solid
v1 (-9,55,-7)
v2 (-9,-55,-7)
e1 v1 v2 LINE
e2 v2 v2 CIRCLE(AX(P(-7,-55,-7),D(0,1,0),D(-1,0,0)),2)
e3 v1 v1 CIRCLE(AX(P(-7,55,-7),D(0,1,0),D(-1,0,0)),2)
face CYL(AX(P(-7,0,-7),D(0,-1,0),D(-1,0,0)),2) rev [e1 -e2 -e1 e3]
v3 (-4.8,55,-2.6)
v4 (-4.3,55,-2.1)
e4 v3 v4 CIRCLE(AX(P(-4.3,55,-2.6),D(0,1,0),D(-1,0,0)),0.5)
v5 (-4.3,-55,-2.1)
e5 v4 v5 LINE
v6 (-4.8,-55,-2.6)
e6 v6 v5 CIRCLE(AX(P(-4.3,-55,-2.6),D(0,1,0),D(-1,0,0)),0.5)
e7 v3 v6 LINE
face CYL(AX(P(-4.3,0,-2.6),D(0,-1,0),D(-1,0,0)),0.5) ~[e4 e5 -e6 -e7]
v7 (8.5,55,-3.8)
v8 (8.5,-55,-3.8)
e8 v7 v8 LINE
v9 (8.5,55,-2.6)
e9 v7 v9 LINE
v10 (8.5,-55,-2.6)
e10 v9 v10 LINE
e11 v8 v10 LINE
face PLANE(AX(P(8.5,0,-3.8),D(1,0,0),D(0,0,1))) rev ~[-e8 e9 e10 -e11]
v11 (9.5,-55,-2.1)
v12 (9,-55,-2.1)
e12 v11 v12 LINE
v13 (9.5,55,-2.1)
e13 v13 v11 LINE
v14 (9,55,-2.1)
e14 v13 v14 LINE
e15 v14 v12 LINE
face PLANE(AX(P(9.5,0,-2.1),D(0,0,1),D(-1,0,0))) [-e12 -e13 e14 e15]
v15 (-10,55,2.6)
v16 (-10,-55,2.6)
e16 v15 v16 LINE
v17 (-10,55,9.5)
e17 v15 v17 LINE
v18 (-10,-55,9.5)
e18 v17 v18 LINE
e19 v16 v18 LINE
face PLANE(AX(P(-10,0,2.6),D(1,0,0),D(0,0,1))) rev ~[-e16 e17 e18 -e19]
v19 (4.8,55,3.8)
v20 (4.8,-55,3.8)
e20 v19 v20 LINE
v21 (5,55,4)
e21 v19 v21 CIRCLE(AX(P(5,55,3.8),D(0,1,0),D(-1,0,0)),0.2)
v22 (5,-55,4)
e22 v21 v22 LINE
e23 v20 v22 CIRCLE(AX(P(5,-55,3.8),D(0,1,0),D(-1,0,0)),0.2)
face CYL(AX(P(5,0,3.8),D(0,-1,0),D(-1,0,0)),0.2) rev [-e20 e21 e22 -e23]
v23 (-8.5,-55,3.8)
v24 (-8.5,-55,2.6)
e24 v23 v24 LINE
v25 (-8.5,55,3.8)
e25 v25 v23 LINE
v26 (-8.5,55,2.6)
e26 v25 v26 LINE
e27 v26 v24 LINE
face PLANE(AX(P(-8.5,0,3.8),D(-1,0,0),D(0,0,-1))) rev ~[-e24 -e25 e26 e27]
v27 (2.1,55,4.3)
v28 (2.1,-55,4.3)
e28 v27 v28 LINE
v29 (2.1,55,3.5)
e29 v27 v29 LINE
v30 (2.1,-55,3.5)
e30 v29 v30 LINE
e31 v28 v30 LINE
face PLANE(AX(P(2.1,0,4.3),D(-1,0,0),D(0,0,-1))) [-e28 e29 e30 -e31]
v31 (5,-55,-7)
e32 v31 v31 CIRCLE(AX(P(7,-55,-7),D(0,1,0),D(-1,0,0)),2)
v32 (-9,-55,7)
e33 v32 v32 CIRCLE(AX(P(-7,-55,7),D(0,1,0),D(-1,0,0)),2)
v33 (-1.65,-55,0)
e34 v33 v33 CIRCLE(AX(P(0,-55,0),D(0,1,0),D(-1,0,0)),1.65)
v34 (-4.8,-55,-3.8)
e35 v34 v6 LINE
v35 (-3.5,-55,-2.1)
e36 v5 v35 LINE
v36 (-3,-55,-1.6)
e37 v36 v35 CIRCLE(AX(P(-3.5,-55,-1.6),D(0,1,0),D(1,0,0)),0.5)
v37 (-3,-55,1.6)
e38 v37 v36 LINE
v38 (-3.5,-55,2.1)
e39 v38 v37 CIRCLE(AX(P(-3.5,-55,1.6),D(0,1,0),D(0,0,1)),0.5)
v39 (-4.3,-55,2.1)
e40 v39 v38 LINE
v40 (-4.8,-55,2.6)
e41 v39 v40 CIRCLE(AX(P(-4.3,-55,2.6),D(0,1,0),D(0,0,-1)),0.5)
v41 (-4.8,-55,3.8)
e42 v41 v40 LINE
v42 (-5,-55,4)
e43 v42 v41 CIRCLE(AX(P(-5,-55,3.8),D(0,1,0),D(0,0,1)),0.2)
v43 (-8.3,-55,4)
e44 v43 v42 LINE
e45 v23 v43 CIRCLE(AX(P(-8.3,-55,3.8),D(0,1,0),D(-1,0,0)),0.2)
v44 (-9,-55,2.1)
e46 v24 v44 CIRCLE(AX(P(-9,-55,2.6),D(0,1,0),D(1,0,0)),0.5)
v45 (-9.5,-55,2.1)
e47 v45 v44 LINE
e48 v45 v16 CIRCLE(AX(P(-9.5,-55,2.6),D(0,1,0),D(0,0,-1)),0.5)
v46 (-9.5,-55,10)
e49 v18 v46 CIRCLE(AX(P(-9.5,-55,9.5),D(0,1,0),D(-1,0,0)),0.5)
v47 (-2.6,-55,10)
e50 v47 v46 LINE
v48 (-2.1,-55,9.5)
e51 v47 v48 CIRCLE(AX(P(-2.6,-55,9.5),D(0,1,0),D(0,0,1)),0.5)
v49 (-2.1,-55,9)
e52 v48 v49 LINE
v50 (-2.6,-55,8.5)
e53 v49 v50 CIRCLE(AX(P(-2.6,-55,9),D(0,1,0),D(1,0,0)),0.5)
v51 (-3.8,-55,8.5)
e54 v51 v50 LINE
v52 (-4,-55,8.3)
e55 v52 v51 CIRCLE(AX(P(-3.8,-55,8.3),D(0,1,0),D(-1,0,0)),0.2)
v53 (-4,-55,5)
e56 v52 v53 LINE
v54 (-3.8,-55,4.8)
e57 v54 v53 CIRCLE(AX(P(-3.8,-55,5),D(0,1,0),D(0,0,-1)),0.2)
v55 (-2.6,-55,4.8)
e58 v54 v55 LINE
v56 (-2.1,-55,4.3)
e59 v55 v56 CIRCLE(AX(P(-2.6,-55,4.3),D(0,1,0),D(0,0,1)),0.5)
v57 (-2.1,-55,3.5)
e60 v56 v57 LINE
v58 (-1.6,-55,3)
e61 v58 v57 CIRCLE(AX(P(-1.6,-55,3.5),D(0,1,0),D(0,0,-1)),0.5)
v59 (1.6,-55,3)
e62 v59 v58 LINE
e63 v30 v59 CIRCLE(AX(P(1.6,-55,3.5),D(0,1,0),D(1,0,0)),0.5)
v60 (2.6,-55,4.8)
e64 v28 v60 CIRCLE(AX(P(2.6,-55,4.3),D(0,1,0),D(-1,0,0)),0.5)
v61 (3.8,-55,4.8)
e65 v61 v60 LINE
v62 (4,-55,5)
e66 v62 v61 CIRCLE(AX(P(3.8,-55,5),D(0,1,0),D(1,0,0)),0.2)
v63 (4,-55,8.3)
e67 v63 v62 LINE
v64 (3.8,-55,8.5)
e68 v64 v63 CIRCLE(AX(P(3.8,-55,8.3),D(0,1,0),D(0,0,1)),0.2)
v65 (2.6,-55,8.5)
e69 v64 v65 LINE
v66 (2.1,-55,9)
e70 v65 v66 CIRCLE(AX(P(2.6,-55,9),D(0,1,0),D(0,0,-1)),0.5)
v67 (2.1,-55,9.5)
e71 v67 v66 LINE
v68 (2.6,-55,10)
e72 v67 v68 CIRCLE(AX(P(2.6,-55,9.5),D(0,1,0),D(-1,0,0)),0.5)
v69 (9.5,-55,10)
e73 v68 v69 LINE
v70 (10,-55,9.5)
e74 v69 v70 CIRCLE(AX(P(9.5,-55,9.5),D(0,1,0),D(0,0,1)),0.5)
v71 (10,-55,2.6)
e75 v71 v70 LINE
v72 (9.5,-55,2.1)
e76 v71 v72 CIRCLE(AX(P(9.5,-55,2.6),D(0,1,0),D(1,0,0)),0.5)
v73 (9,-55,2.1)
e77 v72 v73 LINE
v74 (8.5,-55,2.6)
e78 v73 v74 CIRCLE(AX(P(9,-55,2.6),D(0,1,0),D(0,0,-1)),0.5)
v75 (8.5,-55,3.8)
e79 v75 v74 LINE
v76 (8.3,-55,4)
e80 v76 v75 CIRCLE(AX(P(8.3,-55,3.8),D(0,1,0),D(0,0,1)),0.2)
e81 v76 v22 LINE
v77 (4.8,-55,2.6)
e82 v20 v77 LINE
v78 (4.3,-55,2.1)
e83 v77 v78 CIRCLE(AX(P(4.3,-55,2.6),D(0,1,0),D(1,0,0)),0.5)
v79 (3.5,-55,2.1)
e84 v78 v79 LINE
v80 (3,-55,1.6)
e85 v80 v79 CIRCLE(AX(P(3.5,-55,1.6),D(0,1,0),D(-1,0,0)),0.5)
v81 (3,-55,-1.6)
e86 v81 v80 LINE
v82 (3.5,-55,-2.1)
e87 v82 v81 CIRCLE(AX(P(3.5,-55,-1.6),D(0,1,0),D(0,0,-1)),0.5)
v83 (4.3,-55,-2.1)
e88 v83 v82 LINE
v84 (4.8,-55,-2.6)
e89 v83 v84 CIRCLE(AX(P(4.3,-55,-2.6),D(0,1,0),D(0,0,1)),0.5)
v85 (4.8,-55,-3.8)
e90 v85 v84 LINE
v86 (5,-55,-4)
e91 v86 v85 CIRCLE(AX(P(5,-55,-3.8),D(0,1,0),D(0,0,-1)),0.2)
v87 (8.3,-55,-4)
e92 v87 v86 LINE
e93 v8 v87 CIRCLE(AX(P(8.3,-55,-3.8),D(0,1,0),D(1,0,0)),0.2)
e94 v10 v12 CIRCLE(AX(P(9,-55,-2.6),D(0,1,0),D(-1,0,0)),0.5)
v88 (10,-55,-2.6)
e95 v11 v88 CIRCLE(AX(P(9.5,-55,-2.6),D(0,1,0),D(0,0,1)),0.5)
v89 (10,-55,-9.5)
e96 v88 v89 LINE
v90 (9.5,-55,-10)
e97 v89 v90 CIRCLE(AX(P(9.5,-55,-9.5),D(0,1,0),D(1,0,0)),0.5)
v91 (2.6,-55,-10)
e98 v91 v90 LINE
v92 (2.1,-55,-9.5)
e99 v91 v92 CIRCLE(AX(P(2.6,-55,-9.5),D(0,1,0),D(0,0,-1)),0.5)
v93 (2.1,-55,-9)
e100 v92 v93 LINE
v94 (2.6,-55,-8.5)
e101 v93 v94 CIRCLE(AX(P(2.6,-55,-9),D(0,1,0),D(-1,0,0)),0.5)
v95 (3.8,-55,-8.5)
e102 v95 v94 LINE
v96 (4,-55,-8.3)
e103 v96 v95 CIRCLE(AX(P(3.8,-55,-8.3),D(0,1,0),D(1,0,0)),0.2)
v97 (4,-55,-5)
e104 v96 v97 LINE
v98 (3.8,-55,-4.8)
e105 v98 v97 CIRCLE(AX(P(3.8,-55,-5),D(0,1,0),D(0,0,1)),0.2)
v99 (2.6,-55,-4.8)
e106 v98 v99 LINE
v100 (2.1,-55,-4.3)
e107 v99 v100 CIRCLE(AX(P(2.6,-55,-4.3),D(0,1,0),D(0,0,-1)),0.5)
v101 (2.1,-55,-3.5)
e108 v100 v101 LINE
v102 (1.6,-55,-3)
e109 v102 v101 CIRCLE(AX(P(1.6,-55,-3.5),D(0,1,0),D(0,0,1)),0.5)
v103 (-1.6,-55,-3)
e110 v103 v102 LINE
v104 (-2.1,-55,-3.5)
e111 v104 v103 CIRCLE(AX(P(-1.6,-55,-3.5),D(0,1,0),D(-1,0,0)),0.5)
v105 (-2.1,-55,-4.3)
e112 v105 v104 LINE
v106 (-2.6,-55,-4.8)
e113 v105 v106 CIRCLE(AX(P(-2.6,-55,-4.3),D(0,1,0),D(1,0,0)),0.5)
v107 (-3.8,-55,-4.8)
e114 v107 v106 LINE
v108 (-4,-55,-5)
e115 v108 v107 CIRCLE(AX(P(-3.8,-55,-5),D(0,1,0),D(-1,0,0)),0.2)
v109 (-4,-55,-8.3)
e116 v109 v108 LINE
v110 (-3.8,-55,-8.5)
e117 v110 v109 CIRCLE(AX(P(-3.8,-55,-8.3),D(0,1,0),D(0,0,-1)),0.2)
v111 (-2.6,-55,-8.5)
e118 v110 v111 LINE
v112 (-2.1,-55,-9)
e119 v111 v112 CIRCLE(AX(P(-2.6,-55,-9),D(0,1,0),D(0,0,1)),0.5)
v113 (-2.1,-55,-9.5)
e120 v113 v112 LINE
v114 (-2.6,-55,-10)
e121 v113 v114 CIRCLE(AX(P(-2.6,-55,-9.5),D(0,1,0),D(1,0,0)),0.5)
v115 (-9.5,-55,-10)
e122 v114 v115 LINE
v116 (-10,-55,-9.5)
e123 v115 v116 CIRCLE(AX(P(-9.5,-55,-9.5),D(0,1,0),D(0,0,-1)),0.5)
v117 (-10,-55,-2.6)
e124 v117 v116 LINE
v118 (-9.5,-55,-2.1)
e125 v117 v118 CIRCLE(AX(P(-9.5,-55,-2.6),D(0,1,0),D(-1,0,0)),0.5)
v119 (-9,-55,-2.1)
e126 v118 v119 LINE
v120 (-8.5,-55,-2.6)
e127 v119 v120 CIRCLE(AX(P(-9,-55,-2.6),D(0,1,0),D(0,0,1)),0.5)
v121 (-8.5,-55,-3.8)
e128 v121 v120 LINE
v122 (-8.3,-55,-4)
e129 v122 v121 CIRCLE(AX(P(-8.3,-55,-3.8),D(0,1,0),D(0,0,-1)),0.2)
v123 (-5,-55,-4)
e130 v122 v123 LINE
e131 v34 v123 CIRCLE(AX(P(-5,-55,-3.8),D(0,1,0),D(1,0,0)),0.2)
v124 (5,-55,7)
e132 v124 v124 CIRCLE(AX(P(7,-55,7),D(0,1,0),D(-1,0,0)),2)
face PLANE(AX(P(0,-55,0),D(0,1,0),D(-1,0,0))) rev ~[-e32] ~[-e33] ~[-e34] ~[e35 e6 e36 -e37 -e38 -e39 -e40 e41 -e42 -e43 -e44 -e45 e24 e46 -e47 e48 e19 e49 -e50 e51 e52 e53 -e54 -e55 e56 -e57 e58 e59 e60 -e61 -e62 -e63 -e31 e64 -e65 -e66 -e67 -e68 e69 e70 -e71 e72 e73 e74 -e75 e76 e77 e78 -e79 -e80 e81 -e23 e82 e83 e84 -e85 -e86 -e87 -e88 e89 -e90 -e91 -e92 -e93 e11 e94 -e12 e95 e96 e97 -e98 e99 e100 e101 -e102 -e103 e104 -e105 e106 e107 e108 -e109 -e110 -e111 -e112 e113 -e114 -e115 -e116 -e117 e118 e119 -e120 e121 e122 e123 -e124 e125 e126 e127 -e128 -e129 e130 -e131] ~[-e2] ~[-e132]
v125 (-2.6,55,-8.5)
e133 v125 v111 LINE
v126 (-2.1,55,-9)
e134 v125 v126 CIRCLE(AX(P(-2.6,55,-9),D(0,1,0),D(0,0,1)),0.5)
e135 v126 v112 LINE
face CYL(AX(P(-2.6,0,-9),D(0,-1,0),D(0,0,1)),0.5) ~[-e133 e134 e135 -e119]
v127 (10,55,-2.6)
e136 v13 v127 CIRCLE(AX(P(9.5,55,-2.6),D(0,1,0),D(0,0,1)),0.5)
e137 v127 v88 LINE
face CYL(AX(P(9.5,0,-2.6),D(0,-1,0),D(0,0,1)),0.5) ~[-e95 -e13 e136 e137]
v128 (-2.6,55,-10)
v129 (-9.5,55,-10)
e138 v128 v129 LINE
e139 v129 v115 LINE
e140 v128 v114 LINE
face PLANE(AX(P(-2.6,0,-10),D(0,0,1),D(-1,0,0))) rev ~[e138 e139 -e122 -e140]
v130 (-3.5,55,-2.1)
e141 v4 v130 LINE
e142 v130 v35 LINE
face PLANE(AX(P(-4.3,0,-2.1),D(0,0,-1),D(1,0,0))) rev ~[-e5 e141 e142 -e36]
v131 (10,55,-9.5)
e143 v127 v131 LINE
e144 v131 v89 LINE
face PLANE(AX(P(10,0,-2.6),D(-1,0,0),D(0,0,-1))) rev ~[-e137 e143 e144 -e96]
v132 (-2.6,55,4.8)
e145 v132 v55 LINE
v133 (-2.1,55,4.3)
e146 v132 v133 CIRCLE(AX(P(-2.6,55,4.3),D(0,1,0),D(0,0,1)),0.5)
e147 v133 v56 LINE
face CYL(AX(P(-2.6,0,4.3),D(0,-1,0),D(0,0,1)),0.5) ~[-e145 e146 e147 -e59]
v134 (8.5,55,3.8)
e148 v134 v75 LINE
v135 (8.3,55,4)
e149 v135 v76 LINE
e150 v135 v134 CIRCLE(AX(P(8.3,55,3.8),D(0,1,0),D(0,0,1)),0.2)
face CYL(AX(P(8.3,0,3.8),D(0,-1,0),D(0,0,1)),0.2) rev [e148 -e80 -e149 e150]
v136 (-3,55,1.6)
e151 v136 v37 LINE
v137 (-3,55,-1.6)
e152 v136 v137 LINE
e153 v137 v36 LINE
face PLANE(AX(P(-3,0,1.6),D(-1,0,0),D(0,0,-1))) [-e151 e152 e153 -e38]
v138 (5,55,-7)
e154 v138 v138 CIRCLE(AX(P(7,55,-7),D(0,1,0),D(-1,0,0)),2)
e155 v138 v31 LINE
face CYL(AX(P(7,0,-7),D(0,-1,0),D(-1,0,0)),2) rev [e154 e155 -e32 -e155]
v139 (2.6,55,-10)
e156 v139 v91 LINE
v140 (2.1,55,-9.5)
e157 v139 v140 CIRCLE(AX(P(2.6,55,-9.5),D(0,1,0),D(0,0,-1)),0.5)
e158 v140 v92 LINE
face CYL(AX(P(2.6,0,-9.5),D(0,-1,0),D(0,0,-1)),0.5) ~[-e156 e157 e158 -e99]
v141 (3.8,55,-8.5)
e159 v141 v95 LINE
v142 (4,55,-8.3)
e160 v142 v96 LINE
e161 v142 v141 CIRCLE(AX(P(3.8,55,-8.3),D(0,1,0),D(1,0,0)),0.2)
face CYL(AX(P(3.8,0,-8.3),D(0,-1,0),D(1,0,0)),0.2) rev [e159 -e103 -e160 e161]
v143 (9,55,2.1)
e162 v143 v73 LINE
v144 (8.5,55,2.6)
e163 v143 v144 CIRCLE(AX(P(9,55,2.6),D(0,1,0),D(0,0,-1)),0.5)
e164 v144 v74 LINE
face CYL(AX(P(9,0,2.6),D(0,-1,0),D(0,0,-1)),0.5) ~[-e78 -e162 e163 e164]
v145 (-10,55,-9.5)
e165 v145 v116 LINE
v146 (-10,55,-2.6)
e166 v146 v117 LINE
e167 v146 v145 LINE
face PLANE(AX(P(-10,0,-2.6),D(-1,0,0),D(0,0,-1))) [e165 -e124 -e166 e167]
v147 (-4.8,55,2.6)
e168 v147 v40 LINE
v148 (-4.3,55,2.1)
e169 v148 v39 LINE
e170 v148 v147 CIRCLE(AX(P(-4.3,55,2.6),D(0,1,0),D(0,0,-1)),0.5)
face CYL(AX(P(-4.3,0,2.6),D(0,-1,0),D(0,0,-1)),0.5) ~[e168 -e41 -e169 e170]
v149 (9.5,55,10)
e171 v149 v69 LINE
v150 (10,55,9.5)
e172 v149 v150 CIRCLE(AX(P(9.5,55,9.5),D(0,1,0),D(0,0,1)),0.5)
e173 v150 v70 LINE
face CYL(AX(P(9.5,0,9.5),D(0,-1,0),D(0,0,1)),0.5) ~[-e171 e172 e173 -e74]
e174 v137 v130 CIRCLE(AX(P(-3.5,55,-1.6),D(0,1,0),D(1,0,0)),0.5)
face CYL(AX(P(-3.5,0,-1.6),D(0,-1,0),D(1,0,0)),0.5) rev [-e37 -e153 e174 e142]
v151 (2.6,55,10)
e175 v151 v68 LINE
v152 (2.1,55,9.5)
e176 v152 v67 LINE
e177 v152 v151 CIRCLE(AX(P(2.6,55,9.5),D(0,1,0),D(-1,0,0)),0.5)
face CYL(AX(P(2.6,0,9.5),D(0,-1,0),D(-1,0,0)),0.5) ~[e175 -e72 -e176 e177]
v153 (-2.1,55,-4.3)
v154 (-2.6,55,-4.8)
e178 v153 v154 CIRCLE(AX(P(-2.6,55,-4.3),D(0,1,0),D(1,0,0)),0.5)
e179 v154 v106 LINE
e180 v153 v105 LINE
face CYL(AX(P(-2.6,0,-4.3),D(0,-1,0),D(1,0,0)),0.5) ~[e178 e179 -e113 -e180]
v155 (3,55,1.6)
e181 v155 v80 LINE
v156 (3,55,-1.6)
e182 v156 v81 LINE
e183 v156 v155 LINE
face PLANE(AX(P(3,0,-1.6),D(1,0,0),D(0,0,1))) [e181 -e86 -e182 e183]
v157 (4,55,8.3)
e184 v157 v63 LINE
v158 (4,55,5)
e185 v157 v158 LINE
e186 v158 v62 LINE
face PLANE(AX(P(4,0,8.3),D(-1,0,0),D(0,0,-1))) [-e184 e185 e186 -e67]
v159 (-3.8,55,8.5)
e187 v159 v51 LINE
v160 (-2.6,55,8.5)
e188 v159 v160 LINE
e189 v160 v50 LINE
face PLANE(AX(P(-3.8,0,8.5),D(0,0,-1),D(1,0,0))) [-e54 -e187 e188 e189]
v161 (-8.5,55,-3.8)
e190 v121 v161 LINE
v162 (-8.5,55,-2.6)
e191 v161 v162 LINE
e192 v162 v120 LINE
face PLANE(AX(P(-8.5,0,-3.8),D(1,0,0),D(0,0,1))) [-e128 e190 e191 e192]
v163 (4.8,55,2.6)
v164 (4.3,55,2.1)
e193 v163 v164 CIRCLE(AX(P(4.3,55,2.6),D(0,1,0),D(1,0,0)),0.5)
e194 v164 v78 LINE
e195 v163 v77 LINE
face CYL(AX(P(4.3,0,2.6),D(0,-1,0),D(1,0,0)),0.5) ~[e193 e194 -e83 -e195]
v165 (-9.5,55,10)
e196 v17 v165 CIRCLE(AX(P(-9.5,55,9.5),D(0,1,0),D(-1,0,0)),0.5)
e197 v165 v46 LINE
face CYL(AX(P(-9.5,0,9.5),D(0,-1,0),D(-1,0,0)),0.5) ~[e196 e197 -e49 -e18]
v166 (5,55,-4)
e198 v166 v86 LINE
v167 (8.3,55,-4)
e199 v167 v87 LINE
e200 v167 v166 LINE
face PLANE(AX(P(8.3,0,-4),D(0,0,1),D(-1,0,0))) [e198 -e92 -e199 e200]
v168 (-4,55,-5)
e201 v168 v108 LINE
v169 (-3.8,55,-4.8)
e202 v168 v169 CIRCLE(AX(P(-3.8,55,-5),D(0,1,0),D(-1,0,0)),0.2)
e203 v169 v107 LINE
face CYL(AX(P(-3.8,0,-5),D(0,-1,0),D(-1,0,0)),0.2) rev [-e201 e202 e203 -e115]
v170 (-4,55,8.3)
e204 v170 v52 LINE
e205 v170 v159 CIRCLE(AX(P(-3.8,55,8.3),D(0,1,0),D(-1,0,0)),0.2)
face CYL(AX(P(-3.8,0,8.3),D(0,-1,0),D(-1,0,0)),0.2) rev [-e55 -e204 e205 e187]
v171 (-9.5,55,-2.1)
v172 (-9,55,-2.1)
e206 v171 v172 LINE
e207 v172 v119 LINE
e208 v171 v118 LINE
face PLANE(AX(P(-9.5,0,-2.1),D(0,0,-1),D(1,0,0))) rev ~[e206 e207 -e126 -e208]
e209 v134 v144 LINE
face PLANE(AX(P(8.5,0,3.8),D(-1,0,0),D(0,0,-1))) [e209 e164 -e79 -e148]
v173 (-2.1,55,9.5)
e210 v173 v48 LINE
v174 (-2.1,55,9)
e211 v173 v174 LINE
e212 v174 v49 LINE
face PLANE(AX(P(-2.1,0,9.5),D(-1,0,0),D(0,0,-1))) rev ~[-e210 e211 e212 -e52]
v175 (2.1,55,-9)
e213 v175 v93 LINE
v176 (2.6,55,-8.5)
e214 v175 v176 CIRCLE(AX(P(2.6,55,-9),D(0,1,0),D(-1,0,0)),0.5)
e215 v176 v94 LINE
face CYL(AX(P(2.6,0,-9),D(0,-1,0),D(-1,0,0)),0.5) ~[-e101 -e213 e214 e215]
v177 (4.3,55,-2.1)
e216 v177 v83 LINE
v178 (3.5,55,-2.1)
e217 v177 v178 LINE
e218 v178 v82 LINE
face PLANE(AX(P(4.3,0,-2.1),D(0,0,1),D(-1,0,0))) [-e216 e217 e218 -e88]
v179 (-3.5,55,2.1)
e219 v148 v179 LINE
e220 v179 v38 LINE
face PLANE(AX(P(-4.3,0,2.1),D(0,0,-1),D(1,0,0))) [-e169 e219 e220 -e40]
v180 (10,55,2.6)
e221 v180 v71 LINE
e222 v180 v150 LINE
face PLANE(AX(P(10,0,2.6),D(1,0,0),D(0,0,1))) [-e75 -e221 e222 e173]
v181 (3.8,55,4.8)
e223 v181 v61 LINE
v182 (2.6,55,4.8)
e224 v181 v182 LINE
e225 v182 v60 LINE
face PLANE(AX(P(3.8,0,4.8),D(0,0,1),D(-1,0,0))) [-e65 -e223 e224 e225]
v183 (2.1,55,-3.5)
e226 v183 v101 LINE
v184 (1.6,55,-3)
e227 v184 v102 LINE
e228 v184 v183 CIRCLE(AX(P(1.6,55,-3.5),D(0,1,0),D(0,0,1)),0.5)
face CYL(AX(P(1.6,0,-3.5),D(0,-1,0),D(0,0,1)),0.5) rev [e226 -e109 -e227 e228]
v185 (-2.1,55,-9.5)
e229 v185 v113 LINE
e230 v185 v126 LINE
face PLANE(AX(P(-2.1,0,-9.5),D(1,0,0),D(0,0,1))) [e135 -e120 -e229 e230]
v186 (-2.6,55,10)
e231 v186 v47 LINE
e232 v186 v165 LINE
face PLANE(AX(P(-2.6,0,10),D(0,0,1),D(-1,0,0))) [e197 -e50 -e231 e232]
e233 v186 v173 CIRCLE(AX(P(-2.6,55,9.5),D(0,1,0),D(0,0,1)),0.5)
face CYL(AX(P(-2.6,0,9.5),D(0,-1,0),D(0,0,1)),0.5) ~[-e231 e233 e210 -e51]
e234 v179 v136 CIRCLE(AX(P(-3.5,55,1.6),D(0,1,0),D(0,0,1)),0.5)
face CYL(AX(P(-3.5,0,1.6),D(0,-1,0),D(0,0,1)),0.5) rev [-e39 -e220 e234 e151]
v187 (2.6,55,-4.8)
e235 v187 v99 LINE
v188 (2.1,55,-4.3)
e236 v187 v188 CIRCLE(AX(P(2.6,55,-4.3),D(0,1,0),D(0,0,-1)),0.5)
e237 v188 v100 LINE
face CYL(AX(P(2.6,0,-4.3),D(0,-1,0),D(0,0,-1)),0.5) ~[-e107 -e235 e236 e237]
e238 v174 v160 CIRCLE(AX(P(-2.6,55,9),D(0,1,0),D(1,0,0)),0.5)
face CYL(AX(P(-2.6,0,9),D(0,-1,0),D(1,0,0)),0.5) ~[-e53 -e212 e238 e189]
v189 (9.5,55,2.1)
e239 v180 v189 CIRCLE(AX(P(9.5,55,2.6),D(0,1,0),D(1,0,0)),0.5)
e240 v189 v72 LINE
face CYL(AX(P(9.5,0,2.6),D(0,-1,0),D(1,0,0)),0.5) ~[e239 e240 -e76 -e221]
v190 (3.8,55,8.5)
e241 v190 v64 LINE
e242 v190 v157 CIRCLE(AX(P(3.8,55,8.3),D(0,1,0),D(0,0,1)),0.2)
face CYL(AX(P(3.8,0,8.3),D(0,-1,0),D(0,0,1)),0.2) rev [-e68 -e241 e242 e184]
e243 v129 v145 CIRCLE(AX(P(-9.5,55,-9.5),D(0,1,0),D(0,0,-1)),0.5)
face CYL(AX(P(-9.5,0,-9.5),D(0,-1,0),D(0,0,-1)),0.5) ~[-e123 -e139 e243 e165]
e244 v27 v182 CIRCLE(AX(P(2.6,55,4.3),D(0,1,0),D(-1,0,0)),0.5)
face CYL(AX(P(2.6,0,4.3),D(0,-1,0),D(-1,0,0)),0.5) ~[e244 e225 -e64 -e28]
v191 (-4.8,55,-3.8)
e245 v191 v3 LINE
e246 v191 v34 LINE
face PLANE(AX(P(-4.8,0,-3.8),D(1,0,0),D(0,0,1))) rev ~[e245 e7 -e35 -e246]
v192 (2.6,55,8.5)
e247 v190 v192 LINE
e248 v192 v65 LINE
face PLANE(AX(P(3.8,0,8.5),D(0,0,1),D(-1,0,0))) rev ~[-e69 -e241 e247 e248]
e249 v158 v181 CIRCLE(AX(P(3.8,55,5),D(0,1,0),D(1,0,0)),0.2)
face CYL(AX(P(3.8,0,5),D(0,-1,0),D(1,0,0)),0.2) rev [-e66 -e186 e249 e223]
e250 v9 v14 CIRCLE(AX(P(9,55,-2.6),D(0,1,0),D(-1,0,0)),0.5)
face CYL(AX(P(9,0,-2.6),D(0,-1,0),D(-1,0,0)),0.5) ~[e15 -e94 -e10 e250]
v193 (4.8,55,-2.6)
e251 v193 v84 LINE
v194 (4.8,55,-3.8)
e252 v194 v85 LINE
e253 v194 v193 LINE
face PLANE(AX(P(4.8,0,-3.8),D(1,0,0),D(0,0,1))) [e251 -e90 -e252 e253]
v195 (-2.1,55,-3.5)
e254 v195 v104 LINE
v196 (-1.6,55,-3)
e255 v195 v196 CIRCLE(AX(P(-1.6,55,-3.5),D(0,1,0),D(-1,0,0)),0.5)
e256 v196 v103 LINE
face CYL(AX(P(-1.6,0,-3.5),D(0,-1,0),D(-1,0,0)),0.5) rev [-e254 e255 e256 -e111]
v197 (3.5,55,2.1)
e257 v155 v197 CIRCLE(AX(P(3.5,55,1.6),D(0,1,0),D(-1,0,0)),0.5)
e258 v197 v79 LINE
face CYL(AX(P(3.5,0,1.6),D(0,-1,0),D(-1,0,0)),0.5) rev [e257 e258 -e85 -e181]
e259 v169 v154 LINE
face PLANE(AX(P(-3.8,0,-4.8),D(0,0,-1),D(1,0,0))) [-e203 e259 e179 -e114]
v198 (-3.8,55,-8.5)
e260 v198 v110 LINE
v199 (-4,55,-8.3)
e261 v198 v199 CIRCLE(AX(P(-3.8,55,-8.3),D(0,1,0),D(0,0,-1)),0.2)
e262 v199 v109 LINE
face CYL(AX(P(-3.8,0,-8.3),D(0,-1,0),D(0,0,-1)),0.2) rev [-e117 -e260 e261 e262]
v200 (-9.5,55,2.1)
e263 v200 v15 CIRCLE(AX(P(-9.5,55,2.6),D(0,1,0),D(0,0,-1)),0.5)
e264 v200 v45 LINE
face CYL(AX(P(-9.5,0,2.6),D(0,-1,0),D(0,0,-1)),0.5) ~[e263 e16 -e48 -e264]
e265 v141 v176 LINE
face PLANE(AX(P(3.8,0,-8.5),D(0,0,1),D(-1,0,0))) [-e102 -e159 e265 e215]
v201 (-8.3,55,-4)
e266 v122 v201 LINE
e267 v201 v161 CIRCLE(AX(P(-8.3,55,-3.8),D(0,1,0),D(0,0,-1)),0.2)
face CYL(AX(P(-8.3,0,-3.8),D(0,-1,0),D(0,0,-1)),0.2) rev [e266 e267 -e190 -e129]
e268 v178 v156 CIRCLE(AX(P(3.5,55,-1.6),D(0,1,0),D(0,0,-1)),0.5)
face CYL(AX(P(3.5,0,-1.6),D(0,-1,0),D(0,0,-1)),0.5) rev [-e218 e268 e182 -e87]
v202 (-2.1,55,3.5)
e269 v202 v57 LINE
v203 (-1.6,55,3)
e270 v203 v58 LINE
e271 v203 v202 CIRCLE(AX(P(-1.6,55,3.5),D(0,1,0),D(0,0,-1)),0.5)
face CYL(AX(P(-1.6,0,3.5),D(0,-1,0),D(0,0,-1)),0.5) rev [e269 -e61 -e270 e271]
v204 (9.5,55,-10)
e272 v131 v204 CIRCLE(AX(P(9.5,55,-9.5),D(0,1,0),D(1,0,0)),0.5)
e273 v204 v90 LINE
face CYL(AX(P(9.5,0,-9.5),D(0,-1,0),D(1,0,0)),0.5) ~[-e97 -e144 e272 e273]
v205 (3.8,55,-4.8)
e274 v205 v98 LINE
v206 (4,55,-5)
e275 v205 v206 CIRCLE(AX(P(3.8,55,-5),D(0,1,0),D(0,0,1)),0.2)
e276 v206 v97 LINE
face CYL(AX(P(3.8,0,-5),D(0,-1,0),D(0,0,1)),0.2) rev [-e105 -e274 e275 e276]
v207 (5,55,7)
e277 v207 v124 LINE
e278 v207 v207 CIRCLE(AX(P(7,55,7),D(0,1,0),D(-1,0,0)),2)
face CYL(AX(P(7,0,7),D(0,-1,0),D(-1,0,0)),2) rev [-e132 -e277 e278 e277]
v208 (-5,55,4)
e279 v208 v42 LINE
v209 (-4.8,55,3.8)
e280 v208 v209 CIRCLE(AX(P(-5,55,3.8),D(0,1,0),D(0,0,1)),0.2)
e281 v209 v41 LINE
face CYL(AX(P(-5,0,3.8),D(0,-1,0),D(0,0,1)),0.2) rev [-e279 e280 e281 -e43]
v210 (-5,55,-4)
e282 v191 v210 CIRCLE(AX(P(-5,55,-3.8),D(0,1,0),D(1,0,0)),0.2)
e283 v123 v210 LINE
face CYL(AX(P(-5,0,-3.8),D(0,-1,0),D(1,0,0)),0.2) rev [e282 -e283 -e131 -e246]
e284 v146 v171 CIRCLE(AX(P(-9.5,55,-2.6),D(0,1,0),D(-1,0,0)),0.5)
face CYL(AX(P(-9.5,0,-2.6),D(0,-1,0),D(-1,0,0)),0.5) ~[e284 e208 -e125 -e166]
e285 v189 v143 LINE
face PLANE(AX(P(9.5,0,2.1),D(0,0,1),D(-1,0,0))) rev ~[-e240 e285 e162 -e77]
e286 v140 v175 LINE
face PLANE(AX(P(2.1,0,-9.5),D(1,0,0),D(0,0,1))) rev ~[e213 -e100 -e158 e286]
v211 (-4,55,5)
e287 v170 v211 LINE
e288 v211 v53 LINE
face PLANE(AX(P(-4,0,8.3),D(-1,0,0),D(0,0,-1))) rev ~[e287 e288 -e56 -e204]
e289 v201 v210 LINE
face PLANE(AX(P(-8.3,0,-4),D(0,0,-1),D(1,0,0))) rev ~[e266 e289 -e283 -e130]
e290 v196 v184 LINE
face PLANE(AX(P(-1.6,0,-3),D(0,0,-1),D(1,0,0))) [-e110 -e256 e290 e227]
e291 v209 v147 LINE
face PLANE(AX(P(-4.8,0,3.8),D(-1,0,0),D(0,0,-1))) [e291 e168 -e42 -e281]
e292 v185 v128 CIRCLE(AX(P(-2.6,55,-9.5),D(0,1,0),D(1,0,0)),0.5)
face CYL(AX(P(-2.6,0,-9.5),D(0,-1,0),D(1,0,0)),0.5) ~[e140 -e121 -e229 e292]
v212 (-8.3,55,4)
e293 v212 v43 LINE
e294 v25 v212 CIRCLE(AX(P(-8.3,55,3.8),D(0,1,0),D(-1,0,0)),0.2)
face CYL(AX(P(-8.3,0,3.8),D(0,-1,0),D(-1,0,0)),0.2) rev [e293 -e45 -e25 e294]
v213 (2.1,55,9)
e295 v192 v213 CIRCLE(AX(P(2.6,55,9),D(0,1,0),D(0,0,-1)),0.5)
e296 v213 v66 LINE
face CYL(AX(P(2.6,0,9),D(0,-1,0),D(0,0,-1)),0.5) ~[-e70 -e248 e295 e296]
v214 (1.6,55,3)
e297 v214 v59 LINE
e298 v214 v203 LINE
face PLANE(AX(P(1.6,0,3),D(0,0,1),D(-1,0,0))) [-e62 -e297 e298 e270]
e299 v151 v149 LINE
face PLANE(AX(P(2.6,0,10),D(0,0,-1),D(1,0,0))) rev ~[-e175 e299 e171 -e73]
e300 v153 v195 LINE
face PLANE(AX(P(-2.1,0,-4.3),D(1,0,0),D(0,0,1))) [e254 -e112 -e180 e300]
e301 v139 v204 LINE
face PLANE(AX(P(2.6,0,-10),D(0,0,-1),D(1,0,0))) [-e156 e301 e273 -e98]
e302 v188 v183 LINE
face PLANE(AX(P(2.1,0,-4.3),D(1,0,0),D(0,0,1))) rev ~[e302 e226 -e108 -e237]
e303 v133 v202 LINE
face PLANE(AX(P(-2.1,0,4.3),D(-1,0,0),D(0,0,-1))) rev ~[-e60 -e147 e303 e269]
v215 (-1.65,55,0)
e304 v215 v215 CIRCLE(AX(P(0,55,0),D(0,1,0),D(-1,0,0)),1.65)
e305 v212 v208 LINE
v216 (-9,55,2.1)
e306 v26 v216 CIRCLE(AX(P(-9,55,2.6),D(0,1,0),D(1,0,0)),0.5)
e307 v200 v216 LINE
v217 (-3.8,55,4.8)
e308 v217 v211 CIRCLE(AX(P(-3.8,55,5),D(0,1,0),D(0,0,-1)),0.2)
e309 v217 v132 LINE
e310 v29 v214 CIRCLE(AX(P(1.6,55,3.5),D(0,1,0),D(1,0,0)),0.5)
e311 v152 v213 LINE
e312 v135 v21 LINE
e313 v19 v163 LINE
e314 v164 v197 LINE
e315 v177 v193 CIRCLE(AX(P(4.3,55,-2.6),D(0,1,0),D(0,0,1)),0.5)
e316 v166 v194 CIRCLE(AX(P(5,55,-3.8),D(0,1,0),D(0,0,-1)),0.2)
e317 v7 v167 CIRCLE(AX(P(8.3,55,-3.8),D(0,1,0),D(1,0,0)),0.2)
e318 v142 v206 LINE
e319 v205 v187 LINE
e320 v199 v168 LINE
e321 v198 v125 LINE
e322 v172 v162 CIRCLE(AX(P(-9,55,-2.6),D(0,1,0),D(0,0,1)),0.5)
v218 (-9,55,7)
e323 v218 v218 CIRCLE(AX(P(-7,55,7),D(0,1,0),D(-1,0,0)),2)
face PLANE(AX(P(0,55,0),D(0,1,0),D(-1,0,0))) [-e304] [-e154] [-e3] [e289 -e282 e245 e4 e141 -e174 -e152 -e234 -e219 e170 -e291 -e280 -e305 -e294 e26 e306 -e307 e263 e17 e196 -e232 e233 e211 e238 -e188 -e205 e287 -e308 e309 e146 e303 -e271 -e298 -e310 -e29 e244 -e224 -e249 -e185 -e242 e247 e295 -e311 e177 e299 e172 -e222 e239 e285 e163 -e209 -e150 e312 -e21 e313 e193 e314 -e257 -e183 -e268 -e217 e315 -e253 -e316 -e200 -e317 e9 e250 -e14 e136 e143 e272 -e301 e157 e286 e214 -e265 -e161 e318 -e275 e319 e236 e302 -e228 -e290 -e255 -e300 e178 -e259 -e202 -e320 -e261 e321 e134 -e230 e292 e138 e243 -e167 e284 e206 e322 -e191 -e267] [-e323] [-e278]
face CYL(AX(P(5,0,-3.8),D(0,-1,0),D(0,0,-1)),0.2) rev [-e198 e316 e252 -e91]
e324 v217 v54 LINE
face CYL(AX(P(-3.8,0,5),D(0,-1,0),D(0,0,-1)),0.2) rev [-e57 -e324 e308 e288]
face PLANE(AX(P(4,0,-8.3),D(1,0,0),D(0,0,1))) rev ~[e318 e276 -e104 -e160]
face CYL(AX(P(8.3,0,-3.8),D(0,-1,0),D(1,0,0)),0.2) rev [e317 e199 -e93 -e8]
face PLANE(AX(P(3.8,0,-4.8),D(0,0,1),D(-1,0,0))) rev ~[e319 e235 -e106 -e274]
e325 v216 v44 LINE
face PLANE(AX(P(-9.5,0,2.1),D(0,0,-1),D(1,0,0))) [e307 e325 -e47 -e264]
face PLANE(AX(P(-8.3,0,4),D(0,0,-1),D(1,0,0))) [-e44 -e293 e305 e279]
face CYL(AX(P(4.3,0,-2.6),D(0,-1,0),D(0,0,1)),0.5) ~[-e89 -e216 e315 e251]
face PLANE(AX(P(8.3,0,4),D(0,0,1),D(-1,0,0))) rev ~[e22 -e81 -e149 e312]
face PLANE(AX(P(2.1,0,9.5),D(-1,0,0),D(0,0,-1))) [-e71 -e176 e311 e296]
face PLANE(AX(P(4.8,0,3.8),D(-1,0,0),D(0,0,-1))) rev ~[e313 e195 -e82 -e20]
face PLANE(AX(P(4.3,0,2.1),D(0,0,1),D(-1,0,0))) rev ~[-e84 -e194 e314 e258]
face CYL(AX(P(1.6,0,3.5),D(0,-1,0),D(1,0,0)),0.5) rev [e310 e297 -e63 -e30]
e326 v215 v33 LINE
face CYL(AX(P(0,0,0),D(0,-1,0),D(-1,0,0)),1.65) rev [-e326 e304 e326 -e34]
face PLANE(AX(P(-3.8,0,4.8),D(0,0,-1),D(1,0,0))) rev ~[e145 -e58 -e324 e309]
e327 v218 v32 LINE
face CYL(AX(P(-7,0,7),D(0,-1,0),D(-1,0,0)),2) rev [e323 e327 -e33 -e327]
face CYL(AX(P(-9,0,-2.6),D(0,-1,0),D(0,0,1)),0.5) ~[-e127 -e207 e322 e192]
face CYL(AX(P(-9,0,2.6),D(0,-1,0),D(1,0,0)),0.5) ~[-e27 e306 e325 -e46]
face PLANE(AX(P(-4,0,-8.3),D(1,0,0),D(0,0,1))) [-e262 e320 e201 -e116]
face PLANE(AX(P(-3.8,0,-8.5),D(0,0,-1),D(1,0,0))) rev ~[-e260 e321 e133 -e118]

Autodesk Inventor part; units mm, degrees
ref_plane "YZ Plane" through (0, 0, 0) normal (1, 0, 0) x (0, 1, 0)
ref_plane "XY Plane" through (0, 0, 0) normal (0, 0, 1) x (1, 0, 0)
sketch "スケッチ" plane through (0, 0, 0) normal (0, 1, 0) x (-1, 0, 0)
  line L0 (8.5, -3.8) -> (8.5, -2.6)
  line L1 (4, -8.3) -> (4, -5)
  circle A0 centre (7, -7) radius 2
  line L2 (10, -2.6) -> (10, -9.5)
  line L3 (2.6, -10) -> (9.5, -10)
  line L4 (2.1, -9.5) -> (2.1, -9)
  line L5 (8.5, -2.1) -> (8.5, -4)
  line L6 (3.8, -4.8) -> (2.6, -4.8)
  line L7 (4.8, -3.8) -> (4.8, -2.6)
  arc A1 (2.1, -4.3) -> (2.6, -4.8) centre (2.6, -4.3) ccw
  arc A2 (2.6, -8.5) -> (2.1, -9) centre (2.6, -9) ccw
  arc A3 (3.8, -8.5) -> (4, -8.3) centre (3.8, -8.3) ccw
  arc A4 (4, -5) -> (3.8, -4.8) centre (3.8, -5) ccw
  arc A5 (2.1, -3.5) -> (1.6, -3) centre (1.6, -3.5) ccw
  arc A6 (2.1, -9.5) -> (2.6, -10) centre (2.6, -9.5) ccw
  arc A7 (9.5, -10) -> (10, -9.5) centre (9.5, -9.5) ccw
  arc A8 (10, -2.6) -> (9.5, -2.1) centre (9.5, -2.6) ccw
  arc A9 (9, -2.1) -> (8.5, -2.6) centre (9, -2.6) ccw
  arc A10 (8.3, -4) -> (8.5, -3.8) centre (8.3, -3.8) ccw
  arc A11 (4.8, -3.8) -> (5, -4) centre (5, -3.8) ccw
  line L8 (4.3, -2.1) -> (3.5, -2.1)
  arc A12 (4.8, -2.6) -> (4.3, -2.1) centre (4.3, -2.6) ccw
  arc A13 (3, -1.6) -> (3.5, -2.1) centre (3.5, -1.6) ccw
  line L9 (2.1, -4.3) -> (2.1, -3.5)
  line L10 (3.8, -8.5) -> (2.6, -8.5)
  line L11 (9.5, -2.1) -> (9, -2.1)
  line L12 (8.3, -4) -> (5, -4)
  circle A14 centre (0, 0) radius 1.65
  arc A15 (8.5, 2.6) -> (9, 2.1) centre (9, 2.6) ccw
  line L13 (8.5, 3.8) -> (8.5, 2.6)
  arc A16 (8.5, 3.8) -> (8.3, 4) centre (8.3, 3.8) ccw
  line L14 (8.3, 4) -> (5, 4)
  line L15 (10, 2.6) -> (10, 9.5)
  arc A17 (10, 9.5) -> (9.5, 10) centre (9.5, 9.5) ccw
  circle A18 centre (7, 7) radius 2
  line L16 (4, 8.3) -> (4, 5)
  line L17 (2.6, 10) -> (9.5, 10)
  line L18 (9.5, 2.1) -> (9, 2.1)
  arc A19 (9.5, 2.1) -> (10, 2.6) centre (9.5, 2.6) ccw
  line L19 (3.8, 8.5) -> (2.6, 8.5)
  line L20 (4.8, 3.8) -> (4.8, 2.6)
  arc A20 (4.3, 2.1) -> (4.8, 2.6) centre (4.3, 2.6) ccw
  line L21 (2.1, 8.5) -> (4, 8.5)
  arc A21 (4, 8.3) -> (3.8, 8.5) centre (3.8, 8.3) ccw
  arc A22 (2.1, 9) -> (2.6, 8.5) centre (2.6, 9) ccw
  arc A23 (2.6, 10) -> (2.1, 9.5) centre (2.6, 9.5) ccw
  line L22 (2.1, 9.5) -> (2.1, 9)
  arc A24 (1.6, 3) -> (2.1, 3.5) centre (1.6, 3.5) ccw
  line L23 (3.8, 4.8) -> (2.6, 4.8)
  arc A25 (5, 4) -> (4.8, 3.8) centre (5, 3.8) ccw
  arc A26 (3.8, 4.8) -> (4, 5) centre (3.8, 5) ccw
  line L24 (4.3, 2.1) -> (3.5, 2.1)
  arc A27 (2.6, 4.8) -> (2.1, 4.3) centre (2.6, 4.3) ccw
  line L25 (2.1, 4.3) -> (2.1, 3.5)
  arc A28 (3.5, 2.1) -> (3, 1.6) centre (3.5, 1.6) ccw
  arc A29 (-2.6, 8.5) -> (-2.1, 9) centre (-2.6, 9) ccw
  line L26 (-3.8, 8.5) -> (-2.6, 8.5)
  arc A30 (-3.8, 8.5) -> (-4, 8.3) centre (-3.8, 8.3) ccw
  line L27 (-4, 8.3) -> (-4, 5)
  line L28 (-2.6, 10) -> (-9.5, 10)
  arc A31 (-9.5, 10) -> (-10, 9.5) centre (-9.5, 9.5) ccw
  circle A32 centre (-7, 7) radius 2
  line L29 (-8.3, 4) -> (-5, 4)
  line L30 (-10, 2.6) -> (-10, 9.5)
  line L31 (-2.1, 9.5) -> (-2.1, 9)
  arc A33 (-2.1, 9.5) -> (-2.6, 10) centre (-2.6, 9.5) ccw
  line L32 (-8.5, 3.8) -> (-8.5, 2.6)
  line L33 (-3.8, 4.8) -> (-2.6, 4.8)
  arc A34 (-2.1, 4.3) -> (-2.6, 4.8) centre (-2.6, 4.3) ccw
  line L34 (-8.5, 2.1) -> (-8.5, 4)
  arc A35 (-8.3, 4) -> (-8.5, 3.8) centre (-8.3, 3.8) ccw
  arc A36 (-9, 2.1) -> (-8.5, 2.6) centre (-9, 2.6) ccw
  arc A37 (-10, 2.6) -> (-9.5, 2.1) centre (-9.5, 2.6) ccw
  line L35 (-9.5, 2.1) -> (-9, 2.1)
  arc A38 (-3, 1.6) -> (-3.5, 2.1) centre (-3.5, 1.6) ccw
  line L36 (-4.8, 3.8) -> (-4.8, 2.6)
  arc A39 (-4, 5) -> (-3.8, 4.8) centre (-3.8, 5) ccw
  arc A40 (-4.8, 3.8) -> (-5, 4) centre (-5, 3.8) ccw
  line L37 (-2.1, 4.3) -> (-2.1, 3.5)
  arc A41 (-4.8, 2.6) -> (-4.3, 2.1) centre (-4.3, 2.6) ccw
  line L38 (-4.3, 2.1) -> (-3.5, 2.1)
  arc A42 (-2.1, 3.5) -> (-1.6, 3) centre (-1.6, 3.5) ccw
  arc A43 (-8.5, -2.6) -> (-9, -2.1) centre (-9, -2.6) ccw
  line L39 (-8.5, -3.8) -> (-8.5, -2.6)
  arc A44 (-8.5, -3.8) -> (-8.3, -4) centre (-8.3, -3.8) ccw
  line L40 (-8.3, -4) -> (-5, -4)
  line L41 (-10, -2.6) -> (-10, -9.5)
  arc A45 (-10, -9.5) -> (-9.5, -10) centre (-9.5, -9.5) ccw
  circle A46 centre (-7, -7) radius 2
  line L42 (-4, -8.3) -> (-4, -5)
  line L43 (-2.6, -10) -> (-9.5, -10)
  line L44 (-9.5, -2.1) -> (-9, -2.1)
  arc A47 (-9.5, -2.1) -> (-10, -2.6) centre (-9.5, -2.6) ccw
  line L45 (-3.8, -8.5) -> (-2.6, -8.5)
  line L46 (-4.8, -3.8) -> (-4.8, -2.6)
  arc A48 (-4.3, -2.1) -> (-4.8, -2.6) centre (-4.3, -2.6) ccw
  line L47 (-2.1, -8.5) -> (-4, -8.5)
  arc A49 (-4, -8.3) -> (-3.8, -8.5) centre (-3.8, -8.3) ccw
  arc A50 (-2.1, -9) -> (-2.6, -8.5) centre (-2.6, -9) ccw
  arc A51 (-2.6, -10) -> (-2.1, -9.5) centre (-2.6, -9.5) ccw
  line L48 (-2.1, -9.5) -> (-2.1, -9)
  arc A52 (-1.6, -3) -> (-2.1, -3.5) centre (-1.6, -3.5) ccw
  line L49 (-3.8, -4.8) -> (-2.6, -4.8)
  arc A53 (-5, -4) -> (-4.8, -3.8) centre (-5, -3.8) ccw
  arc A54 (-3.8, -4.8) -> (-4, -5) centre (-3.8, -5) ccw
  line L50 (-4.3, -2.1) -> (-3.5, -2.1)
  arc A55 (-2.6, -4.8) -> (-2.1, -4.3) centre (-2.6, -4.3) ccw
  line L51 (-2.1, -4.3) -> (-2.1, -3.5)
  arc A56 (-3.5, -2.1) -> (-3, -1.6) centre (-3.5, -1.6) ccw
  line L52 (1.6, -3) -> (-1.6, -3)
  line L53 (-3, -1.6) -> (-3, 1.6)
  line L54 (-1.6, 3) -> (1.6, 3)
  line L55 (3, 1.6) -> (3, -1.6)
  point P0 (2.1, -10)
  point P1 (10, 2.1)
  point P2 (-2.1, 10)
  point P3 (-10, -2.1)
  dimension "d12" = 4
  dimension "d14" = 3.7
  dimension "d16" = 0.5
  dimension "d17" = 0.5
  dimension "d18" = 0.2
  dimension "d19" = 0.5
  dimension "d20" = 0.5
  dimension "d24" = 0.5
  dimension "d25" = 0.2
  dimension "d28" = 0.5
  dimension "d31" = 1.5
  dimension "d36" = 3.7
  dimension "d37" = 1.5
  dimension "d58" = 3.3
  dimension "d65" = 10
  dimension "d67" = 2.1
  dimension "d68" = 2.1
  dimension "d69" = 1.9
  dimension "d70" = 7
  dimension "d72" = 2.1
  dimension "d73" = 2.1
  dimension "d74" = 1.9
  dimension "d75" = 7
  dimension "d76" = 10
  dimension "d80" = 360
  dimension "d82" = 3
extrude "ボディ" add sketch "スケッチ" along normal mid plane 110
equation "\"G_OFFSET_START\" = 0"
equation "\"G_OFFSET_END\" = 0"
equation "\"G_L\" = d90"
equation "\"d90\" = 330"
properties part number "s110" material "アルミニウム 6061"
